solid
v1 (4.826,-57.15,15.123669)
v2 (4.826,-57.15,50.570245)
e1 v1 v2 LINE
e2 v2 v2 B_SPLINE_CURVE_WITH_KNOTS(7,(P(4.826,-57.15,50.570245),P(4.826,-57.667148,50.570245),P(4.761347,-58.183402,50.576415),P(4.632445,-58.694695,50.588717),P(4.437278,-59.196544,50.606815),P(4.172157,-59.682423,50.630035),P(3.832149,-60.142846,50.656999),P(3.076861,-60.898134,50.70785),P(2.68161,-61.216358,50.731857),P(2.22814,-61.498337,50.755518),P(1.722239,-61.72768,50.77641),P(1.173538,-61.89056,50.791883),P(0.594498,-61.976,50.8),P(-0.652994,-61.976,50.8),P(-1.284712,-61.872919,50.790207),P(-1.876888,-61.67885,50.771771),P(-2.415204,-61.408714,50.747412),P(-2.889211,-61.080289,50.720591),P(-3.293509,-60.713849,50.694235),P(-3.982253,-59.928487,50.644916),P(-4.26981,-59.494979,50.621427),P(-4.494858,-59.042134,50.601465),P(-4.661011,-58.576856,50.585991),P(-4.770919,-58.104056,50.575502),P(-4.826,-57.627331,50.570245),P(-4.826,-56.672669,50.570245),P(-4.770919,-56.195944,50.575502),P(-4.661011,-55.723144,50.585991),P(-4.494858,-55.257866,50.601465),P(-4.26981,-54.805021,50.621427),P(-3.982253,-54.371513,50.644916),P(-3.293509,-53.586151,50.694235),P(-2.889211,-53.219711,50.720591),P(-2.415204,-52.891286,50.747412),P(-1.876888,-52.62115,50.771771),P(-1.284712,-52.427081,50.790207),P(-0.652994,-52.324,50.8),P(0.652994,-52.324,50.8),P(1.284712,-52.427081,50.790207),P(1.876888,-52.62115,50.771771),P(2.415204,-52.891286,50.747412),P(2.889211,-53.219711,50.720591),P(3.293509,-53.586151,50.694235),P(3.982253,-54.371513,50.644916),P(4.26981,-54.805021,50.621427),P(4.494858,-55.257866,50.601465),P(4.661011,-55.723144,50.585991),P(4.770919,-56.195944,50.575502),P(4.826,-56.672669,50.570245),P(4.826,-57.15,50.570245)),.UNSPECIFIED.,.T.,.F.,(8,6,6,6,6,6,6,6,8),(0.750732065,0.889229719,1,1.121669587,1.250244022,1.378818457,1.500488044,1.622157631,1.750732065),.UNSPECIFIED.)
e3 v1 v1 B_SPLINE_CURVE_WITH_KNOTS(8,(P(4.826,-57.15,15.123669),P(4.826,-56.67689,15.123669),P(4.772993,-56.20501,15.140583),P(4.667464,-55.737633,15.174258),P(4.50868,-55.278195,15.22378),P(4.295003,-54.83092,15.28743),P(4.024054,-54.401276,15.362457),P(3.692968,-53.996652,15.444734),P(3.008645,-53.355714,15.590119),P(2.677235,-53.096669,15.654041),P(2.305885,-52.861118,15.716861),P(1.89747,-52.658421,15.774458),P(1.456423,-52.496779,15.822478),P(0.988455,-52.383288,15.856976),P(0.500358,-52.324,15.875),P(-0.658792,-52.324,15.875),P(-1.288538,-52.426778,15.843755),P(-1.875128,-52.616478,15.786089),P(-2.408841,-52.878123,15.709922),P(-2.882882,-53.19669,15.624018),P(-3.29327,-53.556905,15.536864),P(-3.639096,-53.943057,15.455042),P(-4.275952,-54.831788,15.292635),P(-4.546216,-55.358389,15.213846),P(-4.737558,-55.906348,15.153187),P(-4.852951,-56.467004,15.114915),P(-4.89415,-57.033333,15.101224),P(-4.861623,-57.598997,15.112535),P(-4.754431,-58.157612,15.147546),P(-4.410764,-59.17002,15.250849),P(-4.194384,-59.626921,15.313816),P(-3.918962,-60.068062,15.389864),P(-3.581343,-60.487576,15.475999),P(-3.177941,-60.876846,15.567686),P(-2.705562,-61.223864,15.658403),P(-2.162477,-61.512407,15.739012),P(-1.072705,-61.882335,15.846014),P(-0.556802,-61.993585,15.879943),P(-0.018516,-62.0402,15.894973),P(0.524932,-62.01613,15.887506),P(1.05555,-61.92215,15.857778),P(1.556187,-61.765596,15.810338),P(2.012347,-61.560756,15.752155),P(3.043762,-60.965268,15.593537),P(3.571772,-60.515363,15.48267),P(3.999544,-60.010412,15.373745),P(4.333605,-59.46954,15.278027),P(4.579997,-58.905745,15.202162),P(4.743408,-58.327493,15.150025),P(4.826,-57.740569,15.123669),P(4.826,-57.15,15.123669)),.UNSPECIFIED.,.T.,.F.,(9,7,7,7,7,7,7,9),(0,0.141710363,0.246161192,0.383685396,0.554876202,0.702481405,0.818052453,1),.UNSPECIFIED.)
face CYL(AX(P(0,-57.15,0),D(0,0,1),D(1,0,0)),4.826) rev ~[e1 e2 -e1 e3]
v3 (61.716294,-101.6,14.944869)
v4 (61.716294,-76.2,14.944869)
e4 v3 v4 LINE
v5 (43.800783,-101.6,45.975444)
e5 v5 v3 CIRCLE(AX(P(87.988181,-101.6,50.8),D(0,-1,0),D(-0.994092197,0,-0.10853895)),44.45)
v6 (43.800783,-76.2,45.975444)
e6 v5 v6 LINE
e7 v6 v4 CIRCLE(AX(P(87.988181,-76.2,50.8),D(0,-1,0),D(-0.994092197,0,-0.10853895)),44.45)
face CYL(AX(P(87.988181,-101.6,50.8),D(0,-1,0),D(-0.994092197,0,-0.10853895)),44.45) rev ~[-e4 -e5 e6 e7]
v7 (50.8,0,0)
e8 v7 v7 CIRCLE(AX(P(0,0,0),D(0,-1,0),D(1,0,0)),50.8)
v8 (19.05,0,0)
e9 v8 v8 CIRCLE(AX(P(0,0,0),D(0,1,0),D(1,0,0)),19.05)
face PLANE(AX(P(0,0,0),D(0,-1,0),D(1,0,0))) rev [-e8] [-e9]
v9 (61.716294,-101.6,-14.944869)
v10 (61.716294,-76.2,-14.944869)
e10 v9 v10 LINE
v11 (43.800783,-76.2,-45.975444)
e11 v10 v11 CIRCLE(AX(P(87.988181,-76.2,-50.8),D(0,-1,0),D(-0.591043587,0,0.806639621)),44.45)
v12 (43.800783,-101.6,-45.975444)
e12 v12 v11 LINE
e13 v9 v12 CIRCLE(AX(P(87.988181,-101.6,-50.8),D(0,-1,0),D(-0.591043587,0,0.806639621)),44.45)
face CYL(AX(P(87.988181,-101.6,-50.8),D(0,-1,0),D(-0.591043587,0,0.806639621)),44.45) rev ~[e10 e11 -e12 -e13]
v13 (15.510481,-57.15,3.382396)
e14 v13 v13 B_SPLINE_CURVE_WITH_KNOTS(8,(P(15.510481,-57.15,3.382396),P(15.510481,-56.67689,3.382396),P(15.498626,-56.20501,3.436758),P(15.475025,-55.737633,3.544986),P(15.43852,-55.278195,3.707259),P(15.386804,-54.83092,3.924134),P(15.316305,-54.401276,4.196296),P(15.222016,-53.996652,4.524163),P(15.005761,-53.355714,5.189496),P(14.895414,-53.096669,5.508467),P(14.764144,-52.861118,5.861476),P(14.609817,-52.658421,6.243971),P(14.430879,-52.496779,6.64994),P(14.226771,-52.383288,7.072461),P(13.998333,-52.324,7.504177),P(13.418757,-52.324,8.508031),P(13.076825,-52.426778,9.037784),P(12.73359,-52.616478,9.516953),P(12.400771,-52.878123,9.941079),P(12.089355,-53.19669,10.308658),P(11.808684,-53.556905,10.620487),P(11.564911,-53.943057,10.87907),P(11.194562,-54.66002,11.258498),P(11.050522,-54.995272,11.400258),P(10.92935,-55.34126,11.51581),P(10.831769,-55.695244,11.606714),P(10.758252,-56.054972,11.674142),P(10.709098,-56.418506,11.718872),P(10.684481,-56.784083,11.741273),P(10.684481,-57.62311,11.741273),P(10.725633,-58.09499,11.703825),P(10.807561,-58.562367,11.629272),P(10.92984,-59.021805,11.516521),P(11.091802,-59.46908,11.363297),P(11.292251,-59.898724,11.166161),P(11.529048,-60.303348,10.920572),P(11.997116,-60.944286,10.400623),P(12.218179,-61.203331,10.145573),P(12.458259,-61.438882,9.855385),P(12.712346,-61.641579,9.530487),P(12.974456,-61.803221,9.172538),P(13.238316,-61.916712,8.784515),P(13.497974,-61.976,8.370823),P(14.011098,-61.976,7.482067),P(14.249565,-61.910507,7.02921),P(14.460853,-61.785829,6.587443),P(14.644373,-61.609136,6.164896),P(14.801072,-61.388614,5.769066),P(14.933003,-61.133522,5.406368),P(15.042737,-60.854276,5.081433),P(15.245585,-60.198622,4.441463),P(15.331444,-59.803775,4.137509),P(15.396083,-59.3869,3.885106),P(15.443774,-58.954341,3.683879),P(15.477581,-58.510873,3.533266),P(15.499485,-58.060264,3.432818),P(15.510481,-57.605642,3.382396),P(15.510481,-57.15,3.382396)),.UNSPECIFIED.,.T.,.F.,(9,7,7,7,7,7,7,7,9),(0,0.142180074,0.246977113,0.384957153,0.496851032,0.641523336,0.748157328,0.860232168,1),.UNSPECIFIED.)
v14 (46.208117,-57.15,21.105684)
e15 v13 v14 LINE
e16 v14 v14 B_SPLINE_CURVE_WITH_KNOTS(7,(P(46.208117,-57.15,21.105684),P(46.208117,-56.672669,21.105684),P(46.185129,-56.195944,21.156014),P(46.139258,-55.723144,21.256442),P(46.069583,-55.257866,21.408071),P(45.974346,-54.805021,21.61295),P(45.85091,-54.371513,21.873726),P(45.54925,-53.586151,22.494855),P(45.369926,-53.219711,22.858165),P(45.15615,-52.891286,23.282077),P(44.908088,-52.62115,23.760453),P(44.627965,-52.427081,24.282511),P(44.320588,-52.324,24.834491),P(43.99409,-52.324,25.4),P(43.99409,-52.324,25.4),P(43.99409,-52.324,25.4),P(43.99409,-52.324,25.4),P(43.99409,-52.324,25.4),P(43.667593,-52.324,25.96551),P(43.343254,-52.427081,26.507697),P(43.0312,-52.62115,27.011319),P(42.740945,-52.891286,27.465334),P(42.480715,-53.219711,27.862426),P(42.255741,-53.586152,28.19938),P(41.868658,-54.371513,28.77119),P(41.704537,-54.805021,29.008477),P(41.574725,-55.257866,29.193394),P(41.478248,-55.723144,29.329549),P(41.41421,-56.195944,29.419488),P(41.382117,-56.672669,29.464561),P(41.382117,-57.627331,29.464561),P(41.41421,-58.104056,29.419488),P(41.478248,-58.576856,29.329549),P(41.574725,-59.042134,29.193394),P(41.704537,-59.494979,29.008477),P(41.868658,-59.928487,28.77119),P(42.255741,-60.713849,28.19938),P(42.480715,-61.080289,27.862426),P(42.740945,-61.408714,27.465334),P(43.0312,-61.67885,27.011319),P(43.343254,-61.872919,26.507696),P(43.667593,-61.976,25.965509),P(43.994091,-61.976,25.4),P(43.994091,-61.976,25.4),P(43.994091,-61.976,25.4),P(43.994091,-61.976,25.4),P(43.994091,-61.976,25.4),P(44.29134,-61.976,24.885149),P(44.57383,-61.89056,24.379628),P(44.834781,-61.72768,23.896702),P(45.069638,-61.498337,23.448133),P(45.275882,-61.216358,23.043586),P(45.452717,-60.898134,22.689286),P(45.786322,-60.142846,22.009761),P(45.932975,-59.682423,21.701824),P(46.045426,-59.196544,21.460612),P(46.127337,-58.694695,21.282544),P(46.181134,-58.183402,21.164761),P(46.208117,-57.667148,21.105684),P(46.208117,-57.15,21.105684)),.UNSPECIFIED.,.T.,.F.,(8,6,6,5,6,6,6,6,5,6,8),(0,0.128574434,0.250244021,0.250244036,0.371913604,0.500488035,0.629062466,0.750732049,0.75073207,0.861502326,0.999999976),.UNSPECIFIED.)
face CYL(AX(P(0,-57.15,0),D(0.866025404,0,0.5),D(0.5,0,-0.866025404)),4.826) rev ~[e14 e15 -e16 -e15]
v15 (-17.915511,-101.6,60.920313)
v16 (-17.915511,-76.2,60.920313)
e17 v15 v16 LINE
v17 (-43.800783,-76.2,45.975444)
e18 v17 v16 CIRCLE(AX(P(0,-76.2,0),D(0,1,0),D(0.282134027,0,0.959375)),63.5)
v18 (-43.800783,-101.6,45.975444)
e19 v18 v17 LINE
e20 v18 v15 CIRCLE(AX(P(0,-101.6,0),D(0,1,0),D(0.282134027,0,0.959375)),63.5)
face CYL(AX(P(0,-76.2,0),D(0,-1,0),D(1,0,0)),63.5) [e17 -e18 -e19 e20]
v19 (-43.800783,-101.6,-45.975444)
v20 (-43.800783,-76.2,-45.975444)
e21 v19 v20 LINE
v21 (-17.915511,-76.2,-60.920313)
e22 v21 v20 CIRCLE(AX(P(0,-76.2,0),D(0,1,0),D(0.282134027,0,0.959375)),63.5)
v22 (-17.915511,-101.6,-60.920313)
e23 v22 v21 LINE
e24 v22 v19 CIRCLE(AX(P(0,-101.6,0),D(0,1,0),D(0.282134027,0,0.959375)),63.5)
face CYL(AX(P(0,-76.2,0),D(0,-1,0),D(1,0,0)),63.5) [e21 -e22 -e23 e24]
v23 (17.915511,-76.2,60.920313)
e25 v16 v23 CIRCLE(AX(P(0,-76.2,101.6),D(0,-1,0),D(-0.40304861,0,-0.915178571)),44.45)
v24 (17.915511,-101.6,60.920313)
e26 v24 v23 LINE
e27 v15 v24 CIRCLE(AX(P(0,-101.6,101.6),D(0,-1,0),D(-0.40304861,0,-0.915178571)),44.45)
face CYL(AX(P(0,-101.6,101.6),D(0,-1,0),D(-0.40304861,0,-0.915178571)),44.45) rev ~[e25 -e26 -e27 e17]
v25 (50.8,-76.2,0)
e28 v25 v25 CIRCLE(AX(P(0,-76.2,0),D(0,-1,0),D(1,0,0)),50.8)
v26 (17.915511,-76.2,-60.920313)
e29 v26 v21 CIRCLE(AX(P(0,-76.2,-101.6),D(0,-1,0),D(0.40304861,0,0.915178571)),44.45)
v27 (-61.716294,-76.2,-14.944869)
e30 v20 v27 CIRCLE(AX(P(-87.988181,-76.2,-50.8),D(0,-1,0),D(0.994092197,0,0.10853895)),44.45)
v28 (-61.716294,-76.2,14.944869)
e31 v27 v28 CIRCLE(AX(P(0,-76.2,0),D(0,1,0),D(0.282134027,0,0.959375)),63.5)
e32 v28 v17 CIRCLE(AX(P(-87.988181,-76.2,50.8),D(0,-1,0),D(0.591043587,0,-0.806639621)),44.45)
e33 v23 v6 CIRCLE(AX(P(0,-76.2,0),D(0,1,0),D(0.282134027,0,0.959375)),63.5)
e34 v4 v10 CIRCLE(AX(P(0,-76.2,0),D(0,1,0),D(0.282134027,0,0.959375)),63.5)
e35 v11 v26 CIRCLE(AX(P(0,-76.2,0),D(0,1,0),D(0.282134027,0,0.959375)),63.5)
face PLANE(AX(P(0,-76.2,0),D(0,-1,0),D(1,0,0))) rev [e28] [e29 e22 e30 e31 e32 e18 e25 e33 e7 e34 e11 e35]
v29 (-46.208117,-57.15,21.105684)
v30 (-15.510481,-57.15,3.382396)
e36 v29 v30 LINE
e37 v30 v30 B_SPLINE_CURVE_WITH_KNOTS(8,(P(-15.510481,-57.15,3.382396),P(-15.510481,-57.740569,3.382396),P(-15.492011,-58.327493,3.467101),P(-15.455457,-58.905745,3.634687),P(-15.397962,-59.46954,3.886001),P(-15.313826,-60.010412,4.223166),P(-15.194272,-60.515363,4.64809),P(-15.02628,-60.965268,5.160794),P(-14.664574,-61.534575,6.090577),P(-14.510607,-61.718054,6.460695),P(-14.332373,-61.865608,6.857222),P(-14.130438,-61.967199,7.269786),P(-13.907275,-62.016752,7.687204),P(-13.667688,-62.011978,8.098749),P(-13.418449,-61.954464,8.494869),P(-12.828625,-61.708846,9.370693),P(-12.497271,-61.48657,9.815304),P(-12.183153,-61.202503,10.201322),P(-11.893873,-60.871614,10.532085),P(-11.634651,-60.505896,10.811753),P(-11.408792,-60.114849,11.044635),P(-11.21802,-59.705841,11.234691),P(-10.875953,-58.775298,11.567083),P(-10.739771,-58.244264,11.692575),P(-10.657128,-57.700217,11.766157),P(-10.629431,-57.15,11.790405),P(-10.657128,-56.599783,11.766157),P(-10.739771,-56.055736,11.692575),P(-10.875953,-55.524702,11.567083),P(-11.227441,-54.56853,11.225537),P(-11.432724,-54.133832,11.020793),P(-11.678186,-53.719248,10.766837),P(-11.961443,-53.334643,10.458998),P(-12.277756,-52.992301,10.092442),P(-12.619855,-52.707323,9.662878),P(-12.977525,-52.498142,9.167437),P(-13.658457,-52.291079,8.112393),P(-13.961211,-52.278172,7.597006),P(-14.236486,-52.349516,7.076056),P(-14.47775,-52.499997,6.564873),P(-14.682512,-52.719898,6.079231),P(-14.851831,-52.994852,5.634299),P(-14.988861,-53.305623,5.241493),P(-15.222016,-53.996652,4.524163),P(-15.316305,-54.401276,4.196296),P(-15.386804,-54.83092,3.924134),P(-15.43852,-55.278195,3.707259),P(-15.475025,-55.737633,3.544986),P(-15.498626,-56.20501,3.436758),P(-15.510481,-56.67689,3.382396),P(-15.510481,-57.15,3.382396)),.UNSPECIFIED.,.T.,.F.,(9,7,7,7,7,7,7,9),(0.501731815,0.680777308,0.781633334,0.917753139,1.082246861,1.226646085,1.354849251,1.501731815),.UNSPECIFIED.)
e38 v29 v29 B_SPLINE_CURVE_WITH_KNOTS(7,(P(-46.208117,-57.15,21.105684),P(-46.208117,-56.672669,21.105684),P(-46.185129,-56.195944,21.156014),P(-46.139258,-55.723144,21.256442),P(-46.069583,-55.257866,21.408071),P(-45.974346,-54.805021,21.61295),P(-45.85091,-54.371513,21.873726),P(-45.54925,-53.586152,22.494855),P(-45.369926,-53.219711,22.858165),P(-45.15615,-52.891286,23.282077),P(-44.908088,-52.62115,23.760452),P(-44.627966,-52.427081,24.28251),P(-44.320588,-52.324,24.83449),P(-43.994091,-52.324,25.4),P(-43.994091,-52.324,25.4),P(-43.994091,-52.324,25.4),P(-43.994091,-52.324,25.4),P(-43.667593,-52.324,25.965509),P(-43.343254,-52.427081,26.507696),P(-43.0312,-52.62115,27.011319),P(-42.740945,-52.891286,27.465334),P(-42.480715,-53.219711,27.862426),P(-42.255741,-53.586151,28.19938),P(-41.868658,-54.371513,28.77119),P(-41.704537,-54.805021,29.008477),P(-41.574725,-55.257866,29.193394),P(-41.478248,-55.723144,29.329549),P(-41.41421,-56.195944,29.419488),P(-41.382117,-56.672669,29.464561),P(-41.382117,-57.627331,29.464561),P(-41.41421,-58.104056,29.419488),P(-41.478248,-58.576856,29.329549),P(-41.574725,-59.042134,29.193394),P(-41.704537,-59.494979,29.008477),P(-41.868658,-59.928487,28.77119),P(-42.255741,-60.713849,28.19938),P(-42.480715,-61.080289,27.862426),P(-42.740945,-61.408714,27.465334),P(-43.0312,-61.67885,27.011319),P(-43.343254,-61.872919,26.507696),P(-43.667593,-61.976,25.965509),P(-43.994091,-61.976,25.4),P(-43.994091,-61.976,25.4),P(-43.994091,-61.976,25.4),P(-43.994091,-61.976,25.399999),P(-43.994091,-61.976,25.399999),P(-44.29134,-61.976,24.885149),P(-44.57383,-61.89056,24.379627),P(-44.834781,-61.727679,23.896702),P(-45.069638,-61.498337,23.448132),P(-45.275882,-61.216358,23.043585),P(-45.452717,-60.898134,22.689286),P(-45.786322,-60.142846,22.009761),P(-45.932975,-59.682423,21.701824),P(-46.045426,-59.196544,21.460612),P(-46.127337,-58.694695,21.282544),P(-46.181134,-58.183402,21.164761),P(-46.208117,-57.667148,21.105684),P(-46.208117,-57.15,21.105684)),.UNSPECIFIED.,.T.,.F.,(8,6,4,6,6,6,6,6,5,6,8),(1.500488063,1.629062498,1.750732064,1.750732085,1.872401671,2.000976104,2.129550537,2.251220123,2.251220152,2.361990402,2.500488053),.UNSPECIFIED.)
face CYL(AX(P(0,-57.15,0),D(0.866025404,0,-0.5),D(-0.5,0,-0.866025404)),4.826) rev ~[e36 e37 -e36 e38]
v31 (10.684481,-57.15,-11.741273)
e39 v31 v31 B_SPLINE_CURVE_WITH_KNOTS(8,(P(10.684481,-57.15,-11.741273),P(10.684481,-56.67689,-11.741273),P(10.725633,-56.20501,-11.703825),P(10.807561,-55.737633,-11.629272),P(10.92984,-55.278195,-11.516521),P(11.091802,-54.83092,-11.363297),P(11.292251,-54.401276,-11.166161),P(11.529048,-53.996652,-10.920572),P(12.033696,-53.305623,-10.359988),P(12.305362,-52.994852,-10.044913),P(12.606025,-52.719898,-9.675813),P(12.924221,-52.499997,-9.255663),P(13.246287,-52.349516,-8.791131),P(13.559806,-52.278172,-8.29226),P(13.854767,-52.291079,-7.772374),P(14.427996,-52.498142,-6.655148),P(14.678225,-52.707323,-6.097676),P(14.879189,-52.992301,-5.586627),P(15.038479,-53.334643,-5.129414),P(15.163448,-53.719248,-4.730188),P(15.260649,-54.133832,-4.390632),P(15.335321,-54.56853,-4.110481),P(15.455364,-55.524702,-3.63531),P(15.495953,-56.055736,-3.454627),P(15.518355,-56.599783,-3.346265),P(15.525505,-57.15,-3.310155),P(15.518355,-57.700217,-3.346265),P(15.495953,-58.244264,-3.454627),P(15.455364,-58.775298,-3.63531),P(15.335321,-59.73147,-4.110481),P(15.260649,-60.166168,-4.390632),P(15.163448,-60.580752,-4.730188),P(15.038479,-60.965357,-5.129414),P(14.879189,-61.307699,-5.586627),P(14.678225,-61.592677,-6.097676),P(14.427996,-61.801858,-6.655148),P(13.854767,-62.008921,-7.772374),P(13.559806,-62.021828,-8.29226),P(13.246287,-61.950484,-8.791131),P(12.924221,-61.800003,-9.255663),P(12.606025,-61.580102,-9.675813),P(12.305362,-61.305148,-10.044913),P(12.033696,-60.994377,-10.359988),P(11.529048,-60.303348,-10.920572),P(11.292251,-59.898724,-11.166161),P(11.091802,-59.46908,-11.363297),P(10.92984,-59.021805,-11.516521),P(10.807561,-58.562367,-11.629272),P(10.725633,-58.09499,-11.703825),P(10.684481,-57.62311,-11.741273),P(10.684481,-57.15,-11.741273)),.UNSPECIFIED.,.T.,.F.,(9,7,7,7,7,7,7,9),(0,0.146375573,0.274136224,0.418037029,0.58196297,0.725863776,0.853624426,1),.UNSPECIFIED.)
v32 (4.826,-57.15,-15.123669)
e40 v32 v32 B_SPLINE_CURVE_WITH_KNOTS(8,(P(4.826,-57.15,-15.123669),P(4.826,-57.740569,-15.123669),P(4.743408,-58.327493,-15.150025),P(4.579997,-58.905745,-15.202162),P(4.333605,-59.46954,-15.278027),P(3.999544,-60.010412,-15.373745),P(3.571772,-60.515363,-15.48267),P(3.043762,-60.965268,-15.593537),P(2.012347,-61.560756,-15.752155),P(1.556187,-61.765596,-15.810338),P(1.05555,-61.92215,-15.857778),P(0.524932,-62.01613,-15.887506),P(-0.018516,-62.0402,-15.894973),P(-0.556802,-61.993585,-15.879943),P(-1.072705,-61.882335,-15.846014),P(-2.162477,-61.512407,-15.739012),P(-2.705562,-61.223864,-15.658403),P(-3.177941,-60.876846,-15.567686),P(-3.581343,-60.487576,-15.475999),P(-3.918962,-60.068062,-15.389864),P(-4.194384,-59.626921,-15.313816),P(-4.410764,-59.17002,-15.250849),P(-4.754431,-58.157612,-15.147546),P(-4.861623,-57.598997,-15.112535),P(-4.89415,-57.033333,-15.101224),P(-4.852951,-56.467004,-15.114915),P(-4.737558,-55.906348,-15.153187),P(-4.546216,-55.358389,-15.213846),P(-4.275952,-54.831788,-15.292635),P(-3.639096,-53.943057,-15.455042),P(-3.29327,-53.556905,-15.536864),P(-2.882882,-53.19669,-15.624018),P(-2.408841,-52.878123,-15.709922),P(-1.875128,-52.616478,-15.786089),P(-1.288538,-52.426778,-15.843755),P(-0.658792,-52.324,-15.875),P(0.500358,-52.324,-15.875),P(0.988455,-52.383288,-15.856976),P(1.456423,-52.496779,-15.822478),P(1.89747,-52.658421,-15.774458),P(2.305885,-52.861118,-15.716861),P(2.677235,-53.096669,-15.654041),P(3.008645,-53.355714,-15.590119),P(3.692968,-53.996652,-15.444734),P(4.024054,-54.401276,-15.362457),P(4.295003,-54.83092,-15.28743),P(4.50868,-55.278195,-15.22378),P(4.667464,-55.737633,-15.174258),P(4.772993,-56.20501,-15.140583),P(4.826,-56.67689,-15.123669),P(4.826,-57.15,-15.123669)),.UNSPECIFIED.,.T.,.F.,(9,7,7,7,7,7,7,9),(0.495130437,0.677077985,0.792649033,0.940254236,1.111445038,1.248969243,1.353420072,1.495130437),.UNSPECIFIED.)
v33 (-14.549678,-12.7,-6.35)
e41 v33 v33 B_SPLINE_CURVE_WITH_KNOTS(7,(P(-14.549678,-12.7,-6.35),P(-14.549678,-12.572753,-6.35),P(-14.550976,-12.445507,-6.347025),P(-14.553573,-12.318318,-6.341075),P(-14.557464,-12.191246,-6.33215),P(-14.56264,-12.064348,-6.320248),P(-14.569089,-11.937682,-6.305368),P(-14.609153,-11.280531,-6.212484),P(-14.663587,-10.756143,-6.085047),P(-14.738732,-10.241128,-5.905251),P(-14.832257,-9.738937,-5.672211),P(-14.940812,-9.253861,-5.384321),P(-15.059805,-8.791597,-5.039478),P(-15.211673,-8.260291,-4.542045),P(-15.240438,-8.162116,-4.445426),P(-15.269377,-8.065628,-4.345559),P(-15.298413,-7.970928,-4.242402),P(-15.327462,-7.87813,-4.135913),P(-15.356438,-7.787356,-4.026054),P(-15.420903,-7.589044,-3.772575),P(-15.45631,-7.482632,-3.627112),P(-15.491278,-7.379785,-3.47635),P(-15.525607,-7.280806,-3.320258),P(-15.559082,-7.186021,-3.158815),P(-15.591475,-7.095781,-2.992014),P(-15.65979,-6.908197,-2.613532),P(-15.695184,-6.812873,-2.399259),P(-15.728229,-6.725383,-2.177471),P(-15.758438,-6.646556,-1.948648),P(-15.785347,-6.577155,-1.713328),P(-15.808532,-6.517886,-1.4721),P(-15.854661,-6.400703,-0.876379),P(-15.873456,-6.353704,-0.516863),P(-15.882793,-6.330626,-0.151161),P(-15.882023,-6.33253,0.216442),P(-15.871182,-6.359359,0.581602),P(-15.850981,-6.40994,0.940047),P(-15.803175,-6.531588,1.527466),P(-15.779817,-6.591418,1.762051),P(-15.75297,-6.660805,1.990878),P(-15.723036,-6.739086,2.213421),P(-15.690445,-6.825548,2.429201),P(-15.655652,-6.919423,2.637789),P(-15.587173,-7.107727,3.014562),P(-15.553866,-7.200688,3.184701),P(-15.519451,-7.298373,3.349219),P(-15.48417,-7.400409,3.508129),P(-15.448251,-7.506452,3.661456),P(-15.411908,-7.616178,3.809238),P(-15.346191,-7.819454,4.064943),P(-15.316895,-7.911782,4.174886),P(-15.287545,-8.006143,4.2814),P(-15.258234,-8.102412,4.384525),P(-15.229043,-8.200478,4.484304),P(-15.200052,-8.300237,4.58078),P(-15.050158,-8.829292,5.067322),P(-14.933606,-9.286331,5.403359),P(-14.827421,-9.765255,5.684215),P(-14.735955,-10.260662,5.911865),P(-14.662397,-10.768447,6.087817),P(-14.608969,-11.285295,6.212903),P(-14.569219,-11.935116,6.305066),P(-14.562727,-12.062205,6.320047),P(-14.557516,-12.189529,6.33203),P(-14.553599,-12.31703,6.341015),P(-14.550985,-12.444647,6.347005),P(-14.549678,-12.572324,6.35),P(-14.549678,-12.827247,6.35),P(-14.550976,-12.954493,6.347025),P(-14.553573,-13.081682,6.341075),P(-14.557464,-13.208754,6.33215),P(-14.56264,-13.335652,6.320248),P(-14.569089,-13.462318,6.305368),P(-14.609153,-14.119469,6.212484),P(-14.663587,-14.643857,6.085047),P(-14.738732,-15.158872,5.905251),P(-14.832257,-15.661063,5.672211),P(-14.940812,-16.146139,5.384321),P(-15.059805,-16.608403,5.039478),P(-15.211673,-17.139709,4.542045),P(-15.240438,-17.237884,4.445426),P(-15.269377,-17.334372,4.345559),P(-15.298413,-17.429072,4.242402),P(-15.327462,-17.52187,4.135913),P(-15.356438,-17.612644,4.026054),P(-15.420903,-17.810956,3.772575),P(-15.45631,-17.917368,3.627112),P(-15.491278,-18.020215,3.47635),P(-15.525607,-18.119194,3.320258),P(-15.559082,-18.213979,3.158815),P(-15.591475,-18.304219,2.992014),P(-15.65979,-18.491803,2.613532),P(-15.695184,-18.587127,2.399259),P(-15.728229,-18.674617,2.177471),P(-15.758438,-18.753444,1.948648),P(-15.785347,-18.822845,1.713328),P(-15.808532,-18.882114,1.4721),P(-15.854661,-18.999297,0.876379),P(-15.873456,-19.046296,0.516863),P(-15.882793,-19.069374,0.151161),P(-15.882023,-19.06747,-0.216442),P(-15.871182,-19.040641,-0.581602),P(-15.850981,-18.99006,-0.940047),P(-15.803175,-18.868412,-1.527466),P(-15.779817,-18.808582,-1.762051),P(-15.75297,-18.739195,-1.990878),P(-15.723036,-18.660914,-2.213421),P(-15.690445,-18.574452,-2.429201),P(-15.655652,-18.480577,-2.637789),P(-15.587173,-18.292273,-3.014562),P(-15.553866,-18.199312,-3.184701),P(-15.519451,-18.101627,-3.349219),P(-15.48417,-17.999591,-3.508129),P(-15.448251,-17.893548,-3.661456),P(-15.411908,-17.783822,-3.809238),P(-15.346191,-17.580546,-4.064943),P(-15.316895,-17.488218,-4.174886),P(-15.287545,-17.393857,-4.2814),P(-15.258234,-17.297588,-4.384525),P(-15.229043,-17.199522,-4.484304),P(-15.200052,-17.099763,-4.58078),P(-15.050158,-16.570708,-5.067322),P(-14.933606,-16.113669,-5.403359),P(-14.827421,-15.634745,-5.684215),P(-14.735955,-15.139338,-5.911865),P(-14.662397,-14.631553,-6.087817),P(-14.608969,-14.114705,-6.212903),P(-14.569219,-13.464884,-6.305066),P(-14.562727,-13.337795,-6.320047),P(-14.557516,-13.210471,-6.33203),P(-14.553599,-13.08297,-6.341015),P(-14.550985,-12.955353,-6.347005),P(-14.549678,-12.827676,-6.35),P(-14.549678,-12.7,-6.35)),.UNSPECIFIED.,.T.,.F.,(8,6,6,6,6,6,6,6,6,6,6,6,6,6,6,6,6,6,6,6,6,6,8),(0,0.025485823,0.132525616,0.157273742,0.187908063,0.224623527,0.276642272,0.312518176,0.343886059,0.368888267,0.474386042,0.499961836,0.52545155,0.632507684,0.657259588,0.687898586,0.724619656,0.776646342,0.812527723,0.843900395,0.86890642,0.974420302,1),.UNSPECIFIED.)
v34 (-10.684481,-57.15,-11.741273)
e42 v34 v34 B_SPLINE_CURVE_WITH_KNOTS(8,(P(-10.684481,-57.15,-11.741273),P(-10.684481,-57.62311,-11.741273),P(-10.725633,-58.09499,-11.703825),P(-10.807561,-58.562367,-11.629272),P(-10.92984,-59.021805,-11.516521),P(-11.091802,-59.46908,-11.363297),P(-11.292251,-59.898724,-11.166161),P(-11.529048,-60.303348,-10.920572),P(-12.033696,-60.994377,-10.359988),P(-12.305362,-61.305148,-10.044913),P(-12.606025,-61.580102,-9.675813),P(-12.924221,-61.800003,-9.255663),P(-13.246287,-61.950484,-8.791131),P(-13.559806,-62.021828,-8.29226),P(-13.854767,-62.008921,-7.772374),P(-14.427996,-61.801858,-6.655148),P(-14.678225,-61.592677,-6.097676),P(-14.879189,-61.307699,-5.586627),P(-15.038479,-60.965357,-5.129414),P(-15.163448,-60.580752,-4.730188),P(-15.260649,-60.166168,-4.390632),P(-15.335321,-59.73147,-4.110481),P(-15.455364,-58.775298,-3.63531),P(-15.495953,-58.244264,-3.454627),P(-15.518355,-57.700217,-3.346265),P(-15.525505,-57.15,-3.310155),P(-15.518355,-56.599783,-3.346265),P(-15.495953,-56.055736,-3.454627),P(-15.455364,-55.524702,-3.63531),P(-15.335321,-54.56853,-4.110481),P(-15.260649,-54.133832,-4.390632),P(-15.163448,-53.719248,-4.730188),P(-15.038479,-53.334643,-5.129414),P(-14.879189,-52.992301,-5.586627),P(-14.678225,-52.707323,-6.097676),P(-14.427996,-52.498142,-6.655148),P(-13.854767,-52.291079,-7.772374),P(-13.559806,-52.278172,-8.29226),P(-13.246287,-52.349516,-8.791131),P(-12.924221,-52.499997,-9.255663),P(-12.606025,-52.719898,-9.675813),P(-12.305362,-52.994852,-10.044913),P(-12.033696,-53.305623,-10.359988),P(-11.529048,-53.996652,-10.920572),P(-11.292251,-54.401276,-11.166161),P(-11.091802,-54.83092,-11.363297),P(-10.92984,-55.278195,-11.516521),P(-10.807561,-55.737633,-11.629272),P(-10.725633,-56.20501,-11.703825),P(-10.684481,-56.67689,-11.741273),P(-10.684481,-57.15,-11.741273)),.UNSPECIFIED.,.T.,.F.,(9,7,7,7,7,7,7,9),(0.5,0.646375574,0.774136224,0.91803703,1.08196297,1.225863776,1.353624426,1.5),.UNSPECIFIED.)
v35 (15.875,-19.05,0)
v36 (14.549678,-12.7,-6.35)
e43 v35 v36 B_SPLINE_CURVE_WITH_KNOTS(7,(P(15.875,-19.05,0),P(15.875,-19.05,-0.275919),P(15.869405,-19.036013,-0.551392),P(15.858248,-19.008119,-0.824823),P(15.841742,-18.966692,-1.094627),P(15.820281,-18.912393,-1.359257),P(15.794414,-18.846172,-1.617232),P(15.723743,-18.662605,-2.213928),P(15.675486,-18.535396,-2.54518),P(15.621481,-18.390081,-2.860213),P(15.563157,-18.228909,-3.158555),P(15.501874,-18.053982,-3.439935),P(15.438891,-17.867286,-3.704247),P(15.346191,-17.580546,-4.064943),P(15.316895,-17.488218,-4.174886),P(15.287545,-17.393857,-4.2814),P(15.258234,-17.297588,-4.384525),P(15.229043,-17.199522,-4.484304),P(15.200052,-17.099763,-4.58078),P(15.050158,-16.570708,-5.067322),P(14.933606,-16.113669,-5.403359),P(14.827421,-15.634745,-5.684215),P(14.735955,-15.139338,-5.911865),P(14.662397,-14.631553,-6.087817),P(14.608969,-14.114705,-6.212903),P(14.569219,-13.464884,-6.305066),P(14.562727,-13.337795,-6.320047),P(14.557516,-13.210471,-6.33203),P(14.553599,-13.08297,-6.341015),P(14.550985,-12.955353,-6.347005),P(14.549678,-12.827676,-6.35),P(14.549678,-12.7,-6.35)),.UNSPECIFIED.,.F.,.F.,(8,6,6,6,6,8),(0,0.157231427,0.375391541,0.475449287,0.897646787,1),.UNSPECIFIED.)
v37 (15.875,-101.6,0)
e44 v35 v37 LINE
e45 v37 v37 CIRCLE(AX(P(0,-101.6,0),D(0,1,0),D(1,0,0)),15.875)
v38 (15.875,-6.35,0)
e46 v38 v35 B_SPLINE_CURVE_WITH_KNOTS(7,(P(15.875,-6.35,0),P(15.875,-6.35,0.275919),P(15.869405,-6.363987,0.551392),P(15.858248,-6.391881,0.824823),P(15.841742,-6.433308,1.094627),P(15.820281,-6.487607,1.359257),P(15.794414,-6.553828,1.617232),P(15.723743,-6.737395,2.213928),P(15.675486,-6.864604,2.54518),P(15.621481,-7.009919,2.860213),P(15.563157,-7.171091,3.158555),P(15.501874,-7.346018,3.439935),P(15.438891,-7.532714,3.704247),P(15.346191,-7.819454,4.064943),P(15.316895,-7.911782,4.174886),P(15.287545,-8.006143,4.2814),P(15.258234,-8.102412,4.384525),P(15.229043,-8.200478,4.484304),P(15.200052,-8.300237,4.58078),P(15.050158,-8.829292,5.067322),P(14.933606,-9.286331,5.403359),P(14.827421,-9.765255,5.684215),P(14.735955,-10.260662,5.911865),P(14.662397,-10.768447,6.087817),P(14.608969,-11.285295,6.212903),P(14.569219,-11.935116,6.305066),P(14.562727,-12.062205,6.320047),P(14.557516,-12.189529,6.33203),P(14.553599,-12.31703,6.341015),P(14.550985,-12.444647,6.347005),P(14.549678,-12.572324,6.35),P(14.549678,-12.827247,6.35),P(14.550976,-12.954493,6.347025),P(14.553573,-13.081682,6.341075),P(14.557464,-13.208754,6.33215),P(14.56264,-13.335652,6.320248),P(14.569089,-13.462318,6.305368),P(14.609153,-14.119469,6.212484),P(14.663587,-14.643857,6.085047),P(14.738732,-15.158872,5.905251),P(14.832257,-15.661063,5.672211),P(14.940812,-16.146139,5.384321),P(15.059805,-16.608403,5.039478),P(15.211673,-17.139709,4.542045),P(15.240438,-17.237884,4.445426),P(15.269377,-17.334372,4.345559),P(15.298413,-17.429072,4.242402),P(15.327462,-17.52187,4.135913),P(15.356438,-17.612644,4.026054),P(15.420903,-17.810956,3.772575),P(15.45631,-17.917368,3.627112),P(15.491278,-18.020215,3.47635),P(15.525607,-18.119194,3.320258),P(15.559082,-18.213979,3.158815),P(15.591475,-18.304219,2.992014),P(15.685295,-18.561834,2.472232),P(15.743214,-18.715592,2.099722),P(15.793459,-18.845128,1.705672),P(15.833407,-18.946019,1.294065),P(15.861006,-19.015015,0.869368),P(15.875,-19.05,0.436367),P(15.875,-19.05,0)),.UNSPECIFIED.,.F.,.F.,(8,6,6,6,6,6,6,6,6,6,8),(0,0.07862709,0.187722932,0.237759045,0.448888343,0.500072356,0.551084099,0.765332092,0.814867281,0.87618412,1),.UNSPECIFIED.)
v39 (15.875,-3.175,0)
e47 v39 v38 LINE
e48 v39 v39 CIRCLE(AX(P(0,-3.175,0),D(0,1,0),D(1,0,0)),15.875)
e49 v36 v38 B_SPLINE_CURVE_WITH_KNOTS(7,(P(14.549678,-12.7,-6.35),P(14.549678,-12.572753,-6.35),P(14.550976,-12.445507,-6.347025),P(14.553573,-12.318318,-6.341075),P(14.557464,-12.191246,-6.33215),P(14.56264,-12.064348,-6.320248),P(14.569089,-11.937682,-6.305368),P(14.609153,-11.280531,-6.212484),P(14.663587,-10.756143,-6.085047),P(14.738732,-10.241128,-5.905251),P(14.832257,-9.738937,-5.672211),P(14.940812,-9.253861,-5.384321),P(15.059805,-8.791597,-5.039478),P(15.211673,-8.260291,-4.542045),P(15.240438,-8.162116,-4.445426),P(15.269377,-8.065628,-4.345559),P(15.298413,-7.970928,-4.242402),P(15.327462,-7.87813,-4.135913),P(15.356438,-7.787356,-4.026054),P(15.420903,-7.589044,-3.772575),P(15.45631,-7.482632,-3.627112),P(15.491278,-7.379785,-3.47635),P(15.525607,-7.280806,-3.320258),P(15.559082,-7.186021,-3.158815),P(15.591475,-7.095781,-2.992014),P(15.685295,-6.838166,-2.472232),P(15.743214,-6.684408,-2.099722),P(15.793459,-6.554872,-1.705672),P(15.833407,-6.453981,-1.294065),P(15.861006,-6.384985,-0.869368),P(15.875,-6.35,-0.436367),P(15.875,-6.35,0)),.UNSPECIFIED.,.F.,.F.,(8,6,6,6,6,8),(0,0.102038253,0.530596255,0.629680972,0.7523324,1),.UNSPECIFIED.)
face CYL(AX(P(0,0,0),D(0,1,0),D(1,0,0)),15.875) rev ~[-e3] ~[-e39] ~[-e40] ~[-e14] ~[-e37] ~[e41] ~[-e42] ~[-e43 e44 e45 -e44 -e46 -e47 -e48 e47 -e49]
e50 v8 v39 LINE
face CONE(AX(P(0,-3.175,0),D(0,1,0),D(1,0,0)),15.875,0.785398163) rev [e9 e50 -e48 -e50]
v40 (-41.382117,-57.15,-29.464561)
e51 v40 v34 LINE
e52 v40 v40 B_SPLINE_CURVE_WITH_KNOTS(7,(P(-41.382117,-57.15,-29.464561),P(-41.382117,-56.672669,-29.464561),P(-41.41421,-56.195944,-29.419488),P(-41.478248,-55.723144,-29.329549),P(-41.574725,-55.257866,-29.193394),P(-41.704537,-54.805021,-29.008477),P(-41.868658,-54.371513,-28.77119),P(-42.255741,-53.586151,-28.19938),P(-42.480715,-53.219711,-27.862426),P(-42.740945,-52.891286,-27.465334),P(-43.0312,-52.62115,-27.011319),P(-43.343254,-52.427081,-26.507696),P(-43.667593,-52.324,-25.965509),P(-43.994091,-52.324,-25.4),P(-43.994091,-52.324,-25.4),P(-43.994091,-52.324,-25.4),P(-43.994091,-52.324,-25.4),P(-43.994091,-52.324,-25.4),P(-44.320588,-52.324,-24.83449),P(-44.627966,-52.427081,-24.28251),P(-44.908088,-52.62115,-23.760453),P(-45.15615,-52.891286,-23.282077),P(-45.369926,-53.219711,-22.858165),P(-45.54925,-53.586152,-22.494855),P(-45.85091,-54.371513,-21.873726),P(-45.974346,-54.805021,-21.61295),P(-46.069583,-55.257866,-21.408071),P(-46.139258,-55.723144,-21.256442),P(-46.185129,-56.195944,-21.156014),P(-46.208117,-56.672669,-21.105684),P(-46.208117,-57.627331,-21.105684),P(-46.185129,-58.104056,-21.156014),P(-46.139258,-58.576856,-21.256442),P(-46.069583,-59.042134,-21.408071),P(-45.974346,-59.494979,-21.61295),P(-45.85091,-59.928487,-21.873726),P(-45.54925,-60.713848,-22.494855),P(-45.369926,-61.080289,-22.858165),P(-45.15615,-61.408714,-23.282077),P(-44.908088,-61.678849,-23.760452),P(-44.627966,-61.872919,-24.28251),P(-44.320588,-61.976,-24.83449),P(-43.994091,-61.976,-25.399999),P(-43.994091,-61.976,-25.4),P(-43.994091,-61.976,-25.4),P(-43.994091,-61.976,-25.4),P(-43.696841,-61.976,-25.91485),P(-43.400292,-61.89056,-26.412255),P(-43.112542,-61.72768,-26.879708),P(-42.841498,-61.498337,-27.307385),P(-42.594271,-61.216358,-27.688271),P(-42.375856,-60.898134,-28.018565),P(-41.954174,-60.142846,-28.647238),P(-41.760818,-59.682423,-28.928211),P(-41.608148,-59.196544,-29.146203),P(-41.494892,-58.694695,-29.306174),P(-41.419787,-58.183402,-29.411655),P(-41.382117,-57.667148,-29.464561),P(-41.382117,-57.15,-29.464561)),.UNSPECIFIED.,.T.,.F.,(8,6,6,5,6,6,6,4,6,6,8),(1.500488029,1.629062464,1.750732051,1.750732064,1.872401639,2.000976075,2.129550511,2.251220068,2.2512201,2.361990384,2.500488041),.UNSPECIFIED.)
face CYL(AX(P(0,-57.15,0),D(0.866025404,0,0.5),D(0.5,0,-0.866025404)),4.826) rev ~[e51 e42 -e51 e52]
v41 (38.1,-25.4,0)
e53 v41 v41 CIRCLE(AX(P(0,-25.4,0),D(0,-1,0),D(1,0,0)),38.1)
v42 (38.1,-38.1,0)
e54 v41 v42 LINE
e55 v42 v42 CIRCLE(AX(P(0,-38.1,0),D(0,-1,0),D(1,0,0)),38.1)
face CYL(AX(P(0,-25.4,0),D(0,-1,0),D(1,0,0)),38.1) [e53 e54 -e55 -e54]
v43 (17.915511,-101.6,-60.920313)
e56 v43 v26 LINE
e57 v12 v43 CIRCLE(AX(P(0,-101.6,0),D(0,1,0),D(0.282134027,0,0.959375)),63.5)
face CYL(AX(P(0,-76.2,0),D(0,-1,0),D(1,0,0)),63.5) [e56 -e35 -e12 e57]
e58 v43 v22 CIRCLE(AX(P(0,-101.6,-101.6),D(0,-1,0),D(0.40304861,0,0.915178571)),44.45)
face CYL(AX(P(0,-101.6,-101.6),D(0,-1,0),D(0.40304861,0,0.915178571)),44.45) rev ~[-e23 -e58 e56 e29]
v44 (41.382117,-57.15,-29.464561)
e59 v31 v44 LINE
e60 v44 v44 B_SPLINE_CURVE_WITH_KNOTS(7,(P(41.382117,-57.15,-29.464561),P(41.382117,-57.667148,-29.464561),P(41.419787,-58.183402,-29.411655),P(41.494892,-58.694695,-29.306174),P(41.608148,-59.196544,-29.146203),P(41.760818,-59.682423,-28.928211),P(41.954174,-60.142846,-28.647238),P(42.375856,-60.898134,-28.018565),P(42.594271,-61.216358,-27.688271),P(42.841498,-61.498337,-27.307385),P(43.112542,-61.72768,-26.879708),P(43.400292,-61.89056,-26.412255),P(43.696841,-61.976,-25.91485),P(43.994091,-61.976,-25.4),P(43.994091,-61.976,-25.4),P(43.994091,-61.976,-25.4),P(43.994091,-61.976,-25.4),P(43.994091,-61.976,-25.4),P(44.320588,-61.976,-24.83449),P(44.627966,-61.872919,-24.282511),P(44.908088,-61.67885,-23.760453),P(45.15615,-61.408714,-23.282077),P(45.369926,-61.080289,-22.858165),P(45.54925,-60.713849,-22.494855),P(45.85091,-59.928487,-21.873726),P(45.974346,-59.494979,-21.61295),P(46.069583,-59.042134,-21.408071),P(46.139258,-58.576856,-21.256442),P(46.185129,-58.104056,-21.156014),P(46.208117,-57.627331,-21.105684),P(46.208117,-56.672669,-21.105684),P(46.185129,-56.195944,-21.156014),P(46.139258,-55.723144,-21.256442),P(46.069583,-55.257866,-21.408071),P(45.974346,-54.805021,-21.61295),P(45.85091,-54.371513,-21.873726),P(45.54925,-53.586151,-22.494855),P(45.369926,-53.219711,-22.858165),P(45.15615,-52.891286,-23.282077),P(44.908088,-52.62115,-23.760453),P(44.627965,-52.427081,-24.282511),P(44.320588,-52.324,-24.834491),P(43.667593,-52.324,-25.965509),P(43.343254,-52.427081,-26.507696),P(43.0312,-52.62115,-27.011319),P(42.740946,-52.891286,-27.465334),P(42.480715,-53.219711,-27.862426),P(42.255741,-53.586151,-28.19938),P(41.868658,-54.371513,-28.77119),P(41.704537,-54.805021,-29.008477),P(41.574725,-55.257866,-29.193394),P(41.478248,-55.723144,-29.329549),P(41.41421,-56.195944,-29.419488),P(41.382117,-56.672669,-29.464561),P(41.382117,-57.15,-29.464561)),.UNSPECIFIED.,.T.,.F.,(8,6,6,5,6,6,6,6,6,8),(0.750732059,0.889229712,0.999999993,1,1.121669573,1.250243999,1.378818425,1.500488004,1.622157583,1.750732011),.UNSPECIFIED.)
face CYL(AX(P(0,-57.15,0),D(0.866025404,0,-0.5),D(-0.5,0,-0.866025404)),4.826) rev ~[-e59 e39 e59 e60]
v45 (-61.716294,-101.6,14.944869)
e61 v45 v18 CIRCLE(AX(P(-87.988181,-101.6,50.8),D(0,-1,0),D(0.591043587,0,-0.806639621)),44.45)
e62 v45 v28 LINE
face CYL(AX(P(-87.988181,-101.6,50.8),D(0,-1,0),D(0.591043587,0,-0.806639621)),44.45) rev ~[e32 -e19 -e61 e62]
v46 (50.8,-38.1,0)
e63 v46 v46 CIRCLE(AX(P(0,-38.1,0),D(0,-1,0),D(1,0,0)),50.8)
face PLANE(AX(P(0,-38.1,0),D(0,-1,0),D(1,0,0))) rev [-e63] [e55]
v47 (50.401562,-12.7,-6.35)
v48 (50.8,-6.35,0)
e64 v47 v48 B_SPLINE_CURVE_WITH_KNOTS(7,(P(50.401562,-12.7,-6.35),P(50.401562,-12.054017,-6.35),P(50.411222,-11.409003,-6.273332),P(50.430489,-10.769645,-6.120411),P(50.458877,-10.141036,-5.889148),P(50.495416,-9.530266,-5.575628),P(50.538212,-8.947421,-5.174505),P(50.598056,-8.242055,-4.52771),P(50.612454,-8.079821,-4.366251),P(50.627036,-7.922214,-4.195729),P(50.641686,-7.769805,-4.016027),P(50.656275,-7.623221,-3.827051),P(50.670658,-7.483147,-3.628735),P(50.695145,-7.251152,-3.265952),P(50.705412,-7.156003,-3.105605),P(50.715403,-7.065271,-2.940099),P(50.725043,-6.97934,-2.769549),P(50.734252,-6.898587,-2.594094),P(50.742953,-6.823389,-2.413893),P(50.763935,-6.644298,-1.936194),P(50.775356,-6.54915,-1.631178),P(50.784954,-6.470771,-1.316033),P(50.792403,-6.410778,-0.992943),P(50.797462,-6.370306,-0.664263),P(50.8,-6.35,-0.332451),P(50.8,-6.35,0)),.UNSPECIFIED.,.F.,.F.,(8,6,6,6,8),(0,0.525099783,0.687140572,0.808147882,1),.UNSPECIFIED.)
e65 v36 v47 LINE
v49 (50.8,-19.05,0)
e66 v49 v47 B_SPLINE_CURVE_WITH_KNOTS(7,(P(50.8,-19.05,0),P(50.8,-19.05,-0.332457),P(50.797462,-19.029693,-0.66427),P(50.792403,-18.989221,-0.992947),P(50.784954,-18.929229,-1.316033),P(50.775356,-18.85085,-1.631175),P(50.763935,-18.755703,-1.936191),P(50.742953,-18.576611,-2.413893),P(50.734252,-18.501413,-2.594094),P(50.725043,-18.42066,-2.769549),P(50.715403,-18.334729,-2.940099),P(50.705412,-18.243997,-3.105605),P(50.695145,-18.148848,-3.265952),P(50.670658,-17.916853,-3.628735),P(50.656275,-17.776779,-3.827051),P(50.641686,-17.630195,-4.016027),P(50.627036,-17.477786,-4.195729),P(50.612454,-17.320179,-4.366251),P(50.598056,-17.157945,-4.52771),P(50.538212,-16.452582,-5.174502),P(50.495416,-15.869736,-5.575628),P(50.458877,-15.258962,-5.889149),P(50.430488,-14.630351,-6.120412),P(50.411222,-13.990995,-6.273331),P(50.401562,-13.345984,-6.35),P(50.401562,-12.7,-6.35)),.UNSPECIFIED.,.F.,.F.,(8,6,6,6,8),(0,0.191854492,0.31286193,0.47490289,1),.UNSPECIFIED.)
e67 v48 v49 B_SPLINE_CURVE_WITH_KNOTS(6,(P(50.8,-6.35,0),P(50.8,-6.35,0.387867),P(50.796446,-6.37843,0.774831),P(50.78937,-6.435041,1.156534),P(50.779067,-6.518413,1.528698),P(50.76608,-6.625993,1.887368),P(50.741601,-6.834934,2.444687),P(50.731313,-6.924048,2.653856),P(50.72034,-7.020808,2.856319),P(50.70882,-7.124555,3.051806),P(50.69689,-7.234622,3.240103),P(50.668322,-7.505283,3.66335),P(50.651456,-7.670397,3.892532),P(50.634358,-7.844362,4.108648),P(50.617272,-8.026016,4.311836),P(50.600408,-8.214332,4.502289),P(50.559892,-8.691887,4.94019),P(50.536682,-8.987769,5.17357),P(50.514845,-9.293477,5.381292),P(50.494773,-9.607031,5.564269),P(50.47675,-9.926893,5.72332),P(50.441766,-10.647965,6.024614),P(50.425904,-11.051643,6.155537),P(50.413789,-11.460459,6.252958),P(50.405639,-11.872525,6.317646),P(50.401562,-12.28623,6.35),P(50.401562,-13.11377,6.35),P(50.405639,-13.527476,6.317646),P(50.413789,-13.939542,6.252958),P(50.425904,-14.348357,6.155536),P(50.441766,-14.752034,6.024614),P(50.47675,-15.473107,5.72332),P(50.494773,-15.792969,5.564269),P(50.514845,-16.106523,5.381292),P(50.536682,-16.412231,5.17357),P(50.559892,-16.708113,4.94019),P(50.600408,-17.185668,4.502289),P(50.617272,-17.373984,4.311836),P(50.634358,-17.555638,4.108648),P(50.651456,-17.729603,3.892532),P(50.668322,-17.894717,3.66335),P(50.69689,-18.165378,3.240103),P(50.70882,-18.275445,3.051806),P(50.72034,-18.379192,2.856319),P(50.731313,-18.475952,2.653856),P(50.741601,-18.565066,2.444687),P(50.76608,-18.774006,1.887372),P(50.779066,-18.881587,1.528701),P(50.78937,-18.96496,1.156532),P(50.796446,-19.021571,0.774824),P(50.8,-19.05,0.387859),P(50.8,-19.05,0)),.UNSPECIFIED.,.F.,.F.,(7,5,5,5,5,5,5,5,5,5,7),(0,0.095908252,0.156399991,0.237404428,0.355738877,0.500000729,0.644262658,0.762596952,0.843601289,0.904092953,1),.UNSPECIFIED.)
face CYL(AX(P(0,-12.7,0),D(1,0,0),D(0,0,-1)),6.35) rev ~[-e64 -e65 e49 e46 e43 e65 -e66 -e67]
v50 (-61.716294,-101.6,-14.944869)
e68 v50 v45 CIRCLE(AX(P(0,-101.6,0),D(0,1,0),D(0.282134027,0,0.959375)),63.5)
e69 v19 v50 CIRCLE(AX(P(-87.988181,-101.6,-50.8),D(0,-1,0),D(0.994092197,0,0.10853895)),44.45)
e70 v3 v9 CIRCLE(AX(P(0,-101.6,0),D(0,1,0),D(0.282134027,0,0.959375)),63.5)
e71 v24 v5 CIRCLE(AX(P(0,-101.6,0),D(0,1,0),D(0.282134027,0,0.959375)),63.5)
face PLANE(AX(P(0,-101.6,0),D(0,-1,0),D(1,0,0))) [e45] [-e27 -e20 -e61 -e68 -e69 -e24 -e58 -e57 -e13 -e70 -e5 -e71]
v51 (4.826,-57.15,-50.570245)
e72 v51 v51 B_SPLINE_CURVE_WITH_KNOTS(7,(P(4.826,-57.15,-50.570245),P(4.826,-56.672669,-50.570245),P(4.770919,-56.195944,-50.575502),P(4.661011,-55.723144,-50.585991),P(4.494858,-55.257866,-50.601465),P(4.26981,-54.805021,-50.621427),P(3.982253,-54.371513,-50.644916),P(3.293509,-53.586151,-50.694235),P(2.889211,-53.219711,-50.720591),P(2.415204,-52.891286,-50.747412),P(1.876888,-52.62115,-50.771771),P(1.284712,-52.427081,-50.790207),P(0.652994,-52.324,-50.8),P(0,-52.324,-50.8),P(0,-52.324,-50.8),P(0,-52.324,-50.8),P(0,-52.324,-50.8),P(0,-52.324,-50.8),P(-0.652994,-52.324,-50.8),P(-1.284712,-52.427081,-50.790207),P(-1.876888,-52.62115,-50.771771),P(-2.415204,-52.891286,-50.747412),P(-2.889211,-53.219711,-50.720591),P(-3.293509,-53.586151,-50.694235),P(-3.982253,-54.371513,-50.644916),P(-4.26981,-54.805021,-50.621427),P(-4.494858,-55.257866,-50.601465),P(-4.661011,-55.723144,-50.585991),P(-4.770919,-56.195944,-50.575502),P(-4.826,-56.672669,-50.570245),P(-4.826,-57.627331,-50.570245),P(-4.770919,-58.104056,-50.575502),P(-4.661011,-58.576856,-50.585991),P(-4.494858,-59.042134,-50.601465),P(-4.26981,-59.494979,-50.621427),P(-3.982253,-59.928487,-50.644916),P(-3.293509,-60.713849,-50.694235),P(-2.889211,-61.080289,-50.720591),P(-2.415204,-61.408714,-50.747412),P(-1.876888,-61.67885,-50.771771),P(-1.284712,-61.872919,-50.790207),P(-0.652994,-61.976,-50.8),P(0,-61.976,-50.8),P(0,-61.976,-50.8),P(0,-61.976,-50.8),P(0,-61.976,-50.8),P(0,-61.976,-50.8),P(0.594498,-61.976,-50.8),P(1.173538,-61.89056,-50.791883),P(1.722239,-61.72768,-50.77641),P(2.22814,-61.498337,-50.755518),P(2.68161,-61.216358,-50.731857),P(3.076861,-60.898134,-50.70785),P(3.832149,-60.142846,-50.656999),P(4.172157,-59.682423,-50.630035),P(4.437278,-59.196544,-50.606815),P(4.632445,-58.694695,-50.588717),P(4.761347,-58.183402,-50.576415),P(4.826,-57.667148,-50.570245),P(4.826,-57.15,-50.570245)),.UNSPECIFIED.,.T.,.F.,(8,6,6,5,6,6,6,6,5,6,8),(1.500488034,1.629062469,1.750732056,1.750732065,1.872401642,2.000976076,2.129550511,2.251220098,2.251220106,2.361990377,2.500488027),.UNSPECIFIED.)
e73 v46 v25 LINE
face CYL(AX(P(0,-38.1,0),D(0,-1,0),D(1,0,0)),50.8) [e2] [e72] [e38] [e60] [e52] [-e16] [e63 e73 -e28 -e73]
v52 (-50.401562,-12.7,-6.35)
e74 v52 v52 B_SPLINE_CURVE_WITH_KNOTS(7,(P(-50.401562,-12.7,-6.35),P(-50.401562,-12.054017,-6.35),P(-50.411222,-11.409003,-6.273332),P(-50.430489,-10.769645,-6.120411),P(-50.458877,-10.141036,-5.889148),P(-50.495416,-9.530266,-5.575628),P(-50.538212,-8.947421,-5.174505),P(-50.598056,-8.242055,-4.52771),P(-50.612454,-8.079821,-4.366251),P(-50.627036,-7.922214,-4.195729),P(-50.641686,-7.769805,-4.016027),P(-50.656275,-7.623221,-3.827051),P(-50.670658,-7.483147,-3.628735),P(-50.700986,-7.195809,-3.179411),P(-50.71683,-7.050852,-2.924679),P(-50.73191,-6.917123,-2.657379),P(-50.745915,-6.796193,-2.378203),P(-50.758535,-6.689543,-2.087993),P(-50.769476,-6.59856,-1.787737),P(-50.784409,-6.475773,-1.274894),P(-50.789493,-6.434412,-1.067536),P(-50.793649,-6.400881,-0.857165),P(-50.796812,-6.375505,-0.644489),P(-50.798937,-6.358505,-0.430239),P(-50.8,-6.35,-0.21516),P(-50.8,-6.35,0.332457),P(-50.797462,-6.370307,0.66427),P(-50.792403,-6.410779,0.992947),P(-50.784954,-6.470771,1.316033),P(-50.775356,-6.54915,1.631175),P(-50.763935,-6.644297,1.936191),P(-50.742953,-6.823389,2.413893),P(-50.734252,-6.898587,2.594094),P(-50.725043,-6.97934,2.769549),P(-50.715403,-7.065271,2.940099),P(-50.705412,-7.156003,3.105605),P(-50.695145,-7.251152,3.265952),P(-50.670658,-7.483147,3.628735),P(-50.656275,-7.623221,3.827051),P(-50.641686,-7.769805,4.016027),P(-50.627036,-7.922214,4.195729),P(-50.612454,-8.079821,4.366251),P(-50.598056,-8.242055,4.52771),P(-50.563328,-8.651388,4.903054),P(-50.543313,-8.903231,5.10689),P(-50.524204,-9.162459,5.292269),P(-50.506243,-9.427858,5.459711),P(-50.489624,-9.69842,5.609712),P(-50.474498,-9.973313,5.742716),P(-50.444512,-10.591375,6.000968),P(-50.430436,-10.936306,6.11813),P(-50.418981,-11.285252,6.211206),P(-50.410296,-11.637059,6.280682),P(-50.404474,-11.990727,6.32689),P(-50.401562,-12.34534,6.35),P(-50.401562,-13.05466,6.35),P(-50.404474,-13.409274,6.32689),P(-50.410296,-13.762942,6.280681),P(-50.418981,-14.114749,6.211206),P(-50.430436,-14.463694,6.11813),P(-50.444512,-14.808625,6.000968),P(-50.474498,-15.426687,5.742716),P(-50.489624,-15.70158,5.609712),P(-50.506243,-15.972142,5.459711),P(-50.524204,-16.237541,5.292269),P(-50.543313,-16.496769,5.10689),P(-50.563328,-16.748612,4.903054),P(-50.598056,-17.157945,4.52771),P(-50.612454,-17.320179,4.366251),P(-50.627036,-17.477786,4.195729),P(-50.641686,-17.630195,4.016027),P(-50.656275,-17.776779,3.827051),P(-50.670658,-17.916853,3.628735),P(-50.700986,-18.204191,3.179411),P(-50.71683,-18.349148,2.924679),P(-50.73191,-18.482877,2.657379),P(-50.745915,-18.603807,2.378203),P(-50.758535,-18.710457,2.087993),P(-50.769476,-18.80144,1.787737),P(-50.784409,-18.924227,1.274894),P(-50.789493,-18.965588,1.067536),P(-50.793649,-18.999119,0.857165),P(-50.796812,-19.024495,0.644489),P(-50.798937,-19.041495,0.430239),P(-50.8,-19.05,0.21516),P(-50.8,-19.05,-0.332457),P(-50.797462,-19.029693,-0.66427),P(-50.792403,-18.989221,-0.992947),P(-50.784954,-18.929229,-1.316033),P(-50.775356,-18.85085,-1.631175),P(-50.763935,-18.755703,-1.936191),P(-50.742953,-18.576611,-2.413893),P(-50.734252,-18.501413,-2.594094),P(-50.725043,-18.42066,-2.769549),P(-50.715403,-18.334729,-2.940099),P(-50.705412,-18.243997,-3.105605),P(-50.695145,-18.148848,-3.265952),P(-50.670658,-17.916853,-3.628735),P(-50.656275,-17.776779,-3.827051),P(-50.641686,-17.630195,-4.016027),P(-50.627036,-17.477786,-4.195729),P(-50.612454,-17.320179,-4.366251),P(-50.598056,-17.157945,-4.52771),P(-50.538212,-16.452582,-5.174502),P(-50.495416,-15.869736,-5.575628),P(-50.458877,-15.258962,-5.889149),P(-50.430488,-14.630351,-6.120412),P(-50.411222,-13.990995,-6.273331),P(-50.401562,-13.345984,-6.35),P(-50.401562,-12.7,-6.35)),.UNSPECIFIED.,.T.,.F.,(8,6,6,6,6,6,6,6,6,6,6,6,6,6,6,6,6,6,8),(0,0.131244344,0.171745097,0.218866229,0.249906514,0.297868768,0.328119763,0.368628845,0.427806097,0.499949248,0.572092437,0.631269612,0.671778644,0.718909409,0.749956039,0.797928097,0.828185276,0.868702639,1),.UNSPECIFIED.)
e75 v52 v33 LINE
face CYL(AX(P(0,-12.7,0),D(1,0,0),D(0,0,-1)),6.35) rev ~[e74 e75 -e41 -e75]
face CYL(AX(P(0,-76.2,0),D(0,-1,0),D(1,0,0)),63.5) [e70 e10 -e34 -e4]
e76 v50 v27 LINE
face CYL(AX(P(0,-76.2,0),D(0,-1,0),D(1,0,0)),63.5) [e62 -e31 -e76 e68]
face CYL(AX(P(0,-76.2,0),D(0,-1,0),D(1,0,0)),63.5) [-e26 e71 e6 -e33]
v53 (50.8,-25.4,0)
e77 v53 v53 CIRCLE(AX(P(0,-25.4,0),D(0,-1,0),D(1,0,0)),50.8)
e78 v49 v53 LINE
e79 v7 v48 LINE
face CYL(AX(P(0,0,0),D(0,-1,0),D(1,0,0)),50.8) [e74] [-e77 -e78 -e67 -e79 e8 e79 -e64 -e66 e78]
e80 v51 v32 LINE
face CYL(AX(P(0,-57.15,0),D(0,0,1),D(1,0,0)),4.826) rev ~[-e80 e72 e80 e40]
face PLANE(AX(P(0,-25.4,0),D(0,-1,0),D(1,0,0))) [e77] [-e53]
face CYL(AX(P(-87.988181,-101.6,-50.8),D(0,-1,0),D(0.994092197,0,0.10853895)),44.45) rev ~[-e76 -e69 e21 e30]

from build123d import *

# Parameters (mm, degrees)
CUT_EXTRUDE1_REACH = 103.6
CUT_EXTRUDE2_REACH = 103.6
SKETCH3_R          = 15.875
CHAMFER1_SIZE      = 3.175
SKETCH4_R          = 6.35
CUT_EXTRUDE3_DEPTH = 50.8
SKETCH5_R          = 4.826
CUT_EXTRUDE4_DEPTH = 50.8
CIRPATTERN1_COUNT  = 6


with BuildPart() as part:
    # Sketch1 → Revolve1 (revolve)
    with BuildSketch(Plane.XY):
        Polygon((0, 0), (50.8, 0), (50.8, -25.4), (38.1, -25.4), (38.1, -38.1), (50.8, -38.1), (50.8, -76.2), (63.5, -76.2), (63.5, -101.6), (0, -101.6), align=None)
    revolve(axis=Axis((0, 0, 0), (0, -1, 0)))

    # Sketch2 → Cut-Extrude1 (cut, up to next)
    with BuildSketch(Plane.XZ.offset(101.6), mode=Mode.PRIVATE) as cut_extrude1_sk1:
        with BuildLine():
            ThreePointArc((-17.915510735, 60.9203125), (0, 57.15), (17.915510735, 60.9203125))
            ThreePointArc((17.915510735, 60.9203125), (0, 63.5), (-17.915510735, 60.9203125))
        make_face()
    cut_extrude1_tool1 = extrude(cut_extrude1_sk1.sketch, amount=-CUT_EXTRUDE1_REACH, mode=Mode.PRIVATE) & part.part
    add(cut_extrude1_tool1.solids().sort_by_distance((0, -101.6, 60.438615))[0], mode=Mode.SUBTRACT)
    # Sketch2 → Cut-Extrude1 (cut, up to next)
    with BuildSketch(Plane.XZ.offset(101.6), mode=Mode.PRIVATE) as cut_extrude1_sk2:
        with BuildLine():
            ThreePointArc((-43.800782864, 45.975443668), (-54.99261314, 31.75), (-61.716293599, 14.944868832))
            ThreePointArc((-61.716293599, 14.944868832), (-49.493351826, 28.575), (-43.800782864, 45.975443668))
        make_face()
    cut_extrude1_tool2 = extrude(cut_extrude1_sk2.sketch, amount=-CUT_EXTRUDE1_REACH, mode=Mode.PRIVATE) & part.part
    add(cut_extrude1_tool2.solids().sort_by_distance((-52.341376, -101.6, 30.219308))[0], mode=Mode.SUBTRACT)
    # Sketch2 → Cut-Extrude1 (cut, up to next)
    with BuildSketch(Plane.XZ.offset(101.6), mode=Mode.PRIVATE) as cut_extrude1_sk3:
        with BuildLine():
            ThreePointArc((43.800782864, 45.975443668), (49.493351826, 28.575), (61.716293599, 14.944868832))
            ThreePointArc((61.716293599, 14.944868832), (54.99261314, 31.75), (43.800782864, 45.975443668))
        make_face()
    cut_extrude1_tool3 = extrude(cut_extrude1_sk3.sketch, amount=-CUT_EXTRUDE1_REACH, mode=Mode.PRIVATE) & part.part
    add(cut_extrude1_tool3.solids().sort_by_distance((52.341376, -101.6, 30.219308))[0], mode=Mode.SUBTRACT)
    # Sketch2 → Cut-Extrude1 (cut, up to next)
    with BuildSketch(Plane.XZ.offset(101.6), mode=Mode.PRIVATE) as cut_extrude1_sk4:
        with BuildLine():
            ThreePointArc((61.716293599, -14.944868832), (49.493351826, -28.575), (43.800782864, -45.975443668))
            ThreePointArc((43.800782864, -45.975443668), (54.99261314, -31.75), (61.716293599, -14.944868832))
        make_face()
    cut_extrude1_tool4 = extrude(cut_extrude1_sk4.sketch, amount=-CUT_EXTRUDE1_REACH, mode=Mode.PRIVATE) & part.part
    add(cut_extrude1_tool4.solids().sort_by_distance((52.341376, -101.6, -30.219308))[0], mode=Mode.SUBTRACT)
    # Sketch2 → Cut-Extrude1 (cut, up to next)
    with BuildSketch(Plane.XZ.offset(101.6), mode=Mode.PRIVATE) as cut_extrude1_sk5:
        with BuildLine():
            ThreePointArc((17.915510735, -60.9203125), (0, -57.15), (-17.915510735, -60.9203125))
            ThreePointArc((-17.915510735, -60.9203125), (0, -63.5), (17.915510735, -60.9203125))
        make_face()
    cut_extrude1_tool5 = extrude(cut_extrude1_sk5.sketch, amount=-CUT_EXTRUDE1_REACH, mode=Mode.PRIVATE) & part.part
    add(cut_extrude1_tool5.solids().sort_by_distance((0, -101.6, -60.438615))[0], mode=Mode.SUBTRACT)
    # Sketch2 → Cut-Extrude1 (cut, up to next)
    with BuildSketch(Plane.XZ.offset(101.6), mode=Mode.PRIVATE) as cut_extrude1_sk6:
        with BuildLine():
            ThreePointArc((-43.800782864, -45.975443668), (-49.493351826, -28.575), (-61.716293599, -14.944868832))
            ThreePointArc((-61.716293599, -14.944868832), (-54.99261314, -31.75), (-43.800782864, -45.975443668))
        make_face()
    cut_extrude1_tool6 = extrude(cut_extrude1_sk6.sketch, amount=-CUT_EXTRUDE1_REACH, mode=Mode.PRIVATE) & part.part
    add(cut_extrude1_tool6.solids().sort_by_distance((-52.341376, -101.6, -30.219308))[0], mode=Mode.SUBTRACT)

    # Sketch3 → Cut-Extrude2 (cut, up to next)
    with BuildSketch(Plane(origin=(0, 0, 0), x_dir=(1, 0, 0), z_dir=(0, 1, 0)), mode=Mode.PRIVATE) as cut_extrude2_sk1:
        Circle(SKETCH3_R)
    cut_extrude2_tool1 = extrude(cut_extrude2_sk1.sketch, amount=-CUT_EXTRUDE2_REACH, mode=Mode.PRIVATE) & part.part
    add(cut_extrude2_tool1.solids().sort_by_distance((0, 0, 0))[0], mode=Mode.SUBTRACT)

    # Chamfer1
    chamfer1_edges = [part.edges().sort_by_distance(p)[0] for p in [
        (-15.875, 0, 0),
    ]]
    chamfer(chamfer1_edges, length=CHAMFER1_SIZE)

    # Sketch4 → Cut-Extrude3 (cut, symmetric)
    with BuildSketch(Plane(origin=(0, 0, 0), x_dir=(0, 0, -1), z_dir=(1, 0, 0))):
        with Locations((0, -12.7)):
            Circle(SKETCH4_R)
    extrude(amount=CUT_EXTRUDE3_DEPTH, both=True, mode=Mode.SUBTRACT)

    # Sketch5 → Cut-Extrude4 (cut, symmetric)
    with BuildSketch(Plane.XY):
        with Locations((0, -57.15)):
            Circle(SKETCH5_R)
    cut_extrude4 = extrude(amount=CUT_EXTRUDE4_DEPTH, both=True, mode=Mode.SUBTRACT)

    # CirPattern1: Cut-Extrude4 ×6 about axis
    cirpattern1_axis = Axis((0, -38.1, 0), (0, 1, 0))
    for i in range(1, CIRPATTERN1_COUNT):
        add(cut_extrude4.rotate(cirpattern1_axis, i * 360 / CIRPATTERN1_COUNT), mode=Mode.SUBTRACT)


solid = part.part
